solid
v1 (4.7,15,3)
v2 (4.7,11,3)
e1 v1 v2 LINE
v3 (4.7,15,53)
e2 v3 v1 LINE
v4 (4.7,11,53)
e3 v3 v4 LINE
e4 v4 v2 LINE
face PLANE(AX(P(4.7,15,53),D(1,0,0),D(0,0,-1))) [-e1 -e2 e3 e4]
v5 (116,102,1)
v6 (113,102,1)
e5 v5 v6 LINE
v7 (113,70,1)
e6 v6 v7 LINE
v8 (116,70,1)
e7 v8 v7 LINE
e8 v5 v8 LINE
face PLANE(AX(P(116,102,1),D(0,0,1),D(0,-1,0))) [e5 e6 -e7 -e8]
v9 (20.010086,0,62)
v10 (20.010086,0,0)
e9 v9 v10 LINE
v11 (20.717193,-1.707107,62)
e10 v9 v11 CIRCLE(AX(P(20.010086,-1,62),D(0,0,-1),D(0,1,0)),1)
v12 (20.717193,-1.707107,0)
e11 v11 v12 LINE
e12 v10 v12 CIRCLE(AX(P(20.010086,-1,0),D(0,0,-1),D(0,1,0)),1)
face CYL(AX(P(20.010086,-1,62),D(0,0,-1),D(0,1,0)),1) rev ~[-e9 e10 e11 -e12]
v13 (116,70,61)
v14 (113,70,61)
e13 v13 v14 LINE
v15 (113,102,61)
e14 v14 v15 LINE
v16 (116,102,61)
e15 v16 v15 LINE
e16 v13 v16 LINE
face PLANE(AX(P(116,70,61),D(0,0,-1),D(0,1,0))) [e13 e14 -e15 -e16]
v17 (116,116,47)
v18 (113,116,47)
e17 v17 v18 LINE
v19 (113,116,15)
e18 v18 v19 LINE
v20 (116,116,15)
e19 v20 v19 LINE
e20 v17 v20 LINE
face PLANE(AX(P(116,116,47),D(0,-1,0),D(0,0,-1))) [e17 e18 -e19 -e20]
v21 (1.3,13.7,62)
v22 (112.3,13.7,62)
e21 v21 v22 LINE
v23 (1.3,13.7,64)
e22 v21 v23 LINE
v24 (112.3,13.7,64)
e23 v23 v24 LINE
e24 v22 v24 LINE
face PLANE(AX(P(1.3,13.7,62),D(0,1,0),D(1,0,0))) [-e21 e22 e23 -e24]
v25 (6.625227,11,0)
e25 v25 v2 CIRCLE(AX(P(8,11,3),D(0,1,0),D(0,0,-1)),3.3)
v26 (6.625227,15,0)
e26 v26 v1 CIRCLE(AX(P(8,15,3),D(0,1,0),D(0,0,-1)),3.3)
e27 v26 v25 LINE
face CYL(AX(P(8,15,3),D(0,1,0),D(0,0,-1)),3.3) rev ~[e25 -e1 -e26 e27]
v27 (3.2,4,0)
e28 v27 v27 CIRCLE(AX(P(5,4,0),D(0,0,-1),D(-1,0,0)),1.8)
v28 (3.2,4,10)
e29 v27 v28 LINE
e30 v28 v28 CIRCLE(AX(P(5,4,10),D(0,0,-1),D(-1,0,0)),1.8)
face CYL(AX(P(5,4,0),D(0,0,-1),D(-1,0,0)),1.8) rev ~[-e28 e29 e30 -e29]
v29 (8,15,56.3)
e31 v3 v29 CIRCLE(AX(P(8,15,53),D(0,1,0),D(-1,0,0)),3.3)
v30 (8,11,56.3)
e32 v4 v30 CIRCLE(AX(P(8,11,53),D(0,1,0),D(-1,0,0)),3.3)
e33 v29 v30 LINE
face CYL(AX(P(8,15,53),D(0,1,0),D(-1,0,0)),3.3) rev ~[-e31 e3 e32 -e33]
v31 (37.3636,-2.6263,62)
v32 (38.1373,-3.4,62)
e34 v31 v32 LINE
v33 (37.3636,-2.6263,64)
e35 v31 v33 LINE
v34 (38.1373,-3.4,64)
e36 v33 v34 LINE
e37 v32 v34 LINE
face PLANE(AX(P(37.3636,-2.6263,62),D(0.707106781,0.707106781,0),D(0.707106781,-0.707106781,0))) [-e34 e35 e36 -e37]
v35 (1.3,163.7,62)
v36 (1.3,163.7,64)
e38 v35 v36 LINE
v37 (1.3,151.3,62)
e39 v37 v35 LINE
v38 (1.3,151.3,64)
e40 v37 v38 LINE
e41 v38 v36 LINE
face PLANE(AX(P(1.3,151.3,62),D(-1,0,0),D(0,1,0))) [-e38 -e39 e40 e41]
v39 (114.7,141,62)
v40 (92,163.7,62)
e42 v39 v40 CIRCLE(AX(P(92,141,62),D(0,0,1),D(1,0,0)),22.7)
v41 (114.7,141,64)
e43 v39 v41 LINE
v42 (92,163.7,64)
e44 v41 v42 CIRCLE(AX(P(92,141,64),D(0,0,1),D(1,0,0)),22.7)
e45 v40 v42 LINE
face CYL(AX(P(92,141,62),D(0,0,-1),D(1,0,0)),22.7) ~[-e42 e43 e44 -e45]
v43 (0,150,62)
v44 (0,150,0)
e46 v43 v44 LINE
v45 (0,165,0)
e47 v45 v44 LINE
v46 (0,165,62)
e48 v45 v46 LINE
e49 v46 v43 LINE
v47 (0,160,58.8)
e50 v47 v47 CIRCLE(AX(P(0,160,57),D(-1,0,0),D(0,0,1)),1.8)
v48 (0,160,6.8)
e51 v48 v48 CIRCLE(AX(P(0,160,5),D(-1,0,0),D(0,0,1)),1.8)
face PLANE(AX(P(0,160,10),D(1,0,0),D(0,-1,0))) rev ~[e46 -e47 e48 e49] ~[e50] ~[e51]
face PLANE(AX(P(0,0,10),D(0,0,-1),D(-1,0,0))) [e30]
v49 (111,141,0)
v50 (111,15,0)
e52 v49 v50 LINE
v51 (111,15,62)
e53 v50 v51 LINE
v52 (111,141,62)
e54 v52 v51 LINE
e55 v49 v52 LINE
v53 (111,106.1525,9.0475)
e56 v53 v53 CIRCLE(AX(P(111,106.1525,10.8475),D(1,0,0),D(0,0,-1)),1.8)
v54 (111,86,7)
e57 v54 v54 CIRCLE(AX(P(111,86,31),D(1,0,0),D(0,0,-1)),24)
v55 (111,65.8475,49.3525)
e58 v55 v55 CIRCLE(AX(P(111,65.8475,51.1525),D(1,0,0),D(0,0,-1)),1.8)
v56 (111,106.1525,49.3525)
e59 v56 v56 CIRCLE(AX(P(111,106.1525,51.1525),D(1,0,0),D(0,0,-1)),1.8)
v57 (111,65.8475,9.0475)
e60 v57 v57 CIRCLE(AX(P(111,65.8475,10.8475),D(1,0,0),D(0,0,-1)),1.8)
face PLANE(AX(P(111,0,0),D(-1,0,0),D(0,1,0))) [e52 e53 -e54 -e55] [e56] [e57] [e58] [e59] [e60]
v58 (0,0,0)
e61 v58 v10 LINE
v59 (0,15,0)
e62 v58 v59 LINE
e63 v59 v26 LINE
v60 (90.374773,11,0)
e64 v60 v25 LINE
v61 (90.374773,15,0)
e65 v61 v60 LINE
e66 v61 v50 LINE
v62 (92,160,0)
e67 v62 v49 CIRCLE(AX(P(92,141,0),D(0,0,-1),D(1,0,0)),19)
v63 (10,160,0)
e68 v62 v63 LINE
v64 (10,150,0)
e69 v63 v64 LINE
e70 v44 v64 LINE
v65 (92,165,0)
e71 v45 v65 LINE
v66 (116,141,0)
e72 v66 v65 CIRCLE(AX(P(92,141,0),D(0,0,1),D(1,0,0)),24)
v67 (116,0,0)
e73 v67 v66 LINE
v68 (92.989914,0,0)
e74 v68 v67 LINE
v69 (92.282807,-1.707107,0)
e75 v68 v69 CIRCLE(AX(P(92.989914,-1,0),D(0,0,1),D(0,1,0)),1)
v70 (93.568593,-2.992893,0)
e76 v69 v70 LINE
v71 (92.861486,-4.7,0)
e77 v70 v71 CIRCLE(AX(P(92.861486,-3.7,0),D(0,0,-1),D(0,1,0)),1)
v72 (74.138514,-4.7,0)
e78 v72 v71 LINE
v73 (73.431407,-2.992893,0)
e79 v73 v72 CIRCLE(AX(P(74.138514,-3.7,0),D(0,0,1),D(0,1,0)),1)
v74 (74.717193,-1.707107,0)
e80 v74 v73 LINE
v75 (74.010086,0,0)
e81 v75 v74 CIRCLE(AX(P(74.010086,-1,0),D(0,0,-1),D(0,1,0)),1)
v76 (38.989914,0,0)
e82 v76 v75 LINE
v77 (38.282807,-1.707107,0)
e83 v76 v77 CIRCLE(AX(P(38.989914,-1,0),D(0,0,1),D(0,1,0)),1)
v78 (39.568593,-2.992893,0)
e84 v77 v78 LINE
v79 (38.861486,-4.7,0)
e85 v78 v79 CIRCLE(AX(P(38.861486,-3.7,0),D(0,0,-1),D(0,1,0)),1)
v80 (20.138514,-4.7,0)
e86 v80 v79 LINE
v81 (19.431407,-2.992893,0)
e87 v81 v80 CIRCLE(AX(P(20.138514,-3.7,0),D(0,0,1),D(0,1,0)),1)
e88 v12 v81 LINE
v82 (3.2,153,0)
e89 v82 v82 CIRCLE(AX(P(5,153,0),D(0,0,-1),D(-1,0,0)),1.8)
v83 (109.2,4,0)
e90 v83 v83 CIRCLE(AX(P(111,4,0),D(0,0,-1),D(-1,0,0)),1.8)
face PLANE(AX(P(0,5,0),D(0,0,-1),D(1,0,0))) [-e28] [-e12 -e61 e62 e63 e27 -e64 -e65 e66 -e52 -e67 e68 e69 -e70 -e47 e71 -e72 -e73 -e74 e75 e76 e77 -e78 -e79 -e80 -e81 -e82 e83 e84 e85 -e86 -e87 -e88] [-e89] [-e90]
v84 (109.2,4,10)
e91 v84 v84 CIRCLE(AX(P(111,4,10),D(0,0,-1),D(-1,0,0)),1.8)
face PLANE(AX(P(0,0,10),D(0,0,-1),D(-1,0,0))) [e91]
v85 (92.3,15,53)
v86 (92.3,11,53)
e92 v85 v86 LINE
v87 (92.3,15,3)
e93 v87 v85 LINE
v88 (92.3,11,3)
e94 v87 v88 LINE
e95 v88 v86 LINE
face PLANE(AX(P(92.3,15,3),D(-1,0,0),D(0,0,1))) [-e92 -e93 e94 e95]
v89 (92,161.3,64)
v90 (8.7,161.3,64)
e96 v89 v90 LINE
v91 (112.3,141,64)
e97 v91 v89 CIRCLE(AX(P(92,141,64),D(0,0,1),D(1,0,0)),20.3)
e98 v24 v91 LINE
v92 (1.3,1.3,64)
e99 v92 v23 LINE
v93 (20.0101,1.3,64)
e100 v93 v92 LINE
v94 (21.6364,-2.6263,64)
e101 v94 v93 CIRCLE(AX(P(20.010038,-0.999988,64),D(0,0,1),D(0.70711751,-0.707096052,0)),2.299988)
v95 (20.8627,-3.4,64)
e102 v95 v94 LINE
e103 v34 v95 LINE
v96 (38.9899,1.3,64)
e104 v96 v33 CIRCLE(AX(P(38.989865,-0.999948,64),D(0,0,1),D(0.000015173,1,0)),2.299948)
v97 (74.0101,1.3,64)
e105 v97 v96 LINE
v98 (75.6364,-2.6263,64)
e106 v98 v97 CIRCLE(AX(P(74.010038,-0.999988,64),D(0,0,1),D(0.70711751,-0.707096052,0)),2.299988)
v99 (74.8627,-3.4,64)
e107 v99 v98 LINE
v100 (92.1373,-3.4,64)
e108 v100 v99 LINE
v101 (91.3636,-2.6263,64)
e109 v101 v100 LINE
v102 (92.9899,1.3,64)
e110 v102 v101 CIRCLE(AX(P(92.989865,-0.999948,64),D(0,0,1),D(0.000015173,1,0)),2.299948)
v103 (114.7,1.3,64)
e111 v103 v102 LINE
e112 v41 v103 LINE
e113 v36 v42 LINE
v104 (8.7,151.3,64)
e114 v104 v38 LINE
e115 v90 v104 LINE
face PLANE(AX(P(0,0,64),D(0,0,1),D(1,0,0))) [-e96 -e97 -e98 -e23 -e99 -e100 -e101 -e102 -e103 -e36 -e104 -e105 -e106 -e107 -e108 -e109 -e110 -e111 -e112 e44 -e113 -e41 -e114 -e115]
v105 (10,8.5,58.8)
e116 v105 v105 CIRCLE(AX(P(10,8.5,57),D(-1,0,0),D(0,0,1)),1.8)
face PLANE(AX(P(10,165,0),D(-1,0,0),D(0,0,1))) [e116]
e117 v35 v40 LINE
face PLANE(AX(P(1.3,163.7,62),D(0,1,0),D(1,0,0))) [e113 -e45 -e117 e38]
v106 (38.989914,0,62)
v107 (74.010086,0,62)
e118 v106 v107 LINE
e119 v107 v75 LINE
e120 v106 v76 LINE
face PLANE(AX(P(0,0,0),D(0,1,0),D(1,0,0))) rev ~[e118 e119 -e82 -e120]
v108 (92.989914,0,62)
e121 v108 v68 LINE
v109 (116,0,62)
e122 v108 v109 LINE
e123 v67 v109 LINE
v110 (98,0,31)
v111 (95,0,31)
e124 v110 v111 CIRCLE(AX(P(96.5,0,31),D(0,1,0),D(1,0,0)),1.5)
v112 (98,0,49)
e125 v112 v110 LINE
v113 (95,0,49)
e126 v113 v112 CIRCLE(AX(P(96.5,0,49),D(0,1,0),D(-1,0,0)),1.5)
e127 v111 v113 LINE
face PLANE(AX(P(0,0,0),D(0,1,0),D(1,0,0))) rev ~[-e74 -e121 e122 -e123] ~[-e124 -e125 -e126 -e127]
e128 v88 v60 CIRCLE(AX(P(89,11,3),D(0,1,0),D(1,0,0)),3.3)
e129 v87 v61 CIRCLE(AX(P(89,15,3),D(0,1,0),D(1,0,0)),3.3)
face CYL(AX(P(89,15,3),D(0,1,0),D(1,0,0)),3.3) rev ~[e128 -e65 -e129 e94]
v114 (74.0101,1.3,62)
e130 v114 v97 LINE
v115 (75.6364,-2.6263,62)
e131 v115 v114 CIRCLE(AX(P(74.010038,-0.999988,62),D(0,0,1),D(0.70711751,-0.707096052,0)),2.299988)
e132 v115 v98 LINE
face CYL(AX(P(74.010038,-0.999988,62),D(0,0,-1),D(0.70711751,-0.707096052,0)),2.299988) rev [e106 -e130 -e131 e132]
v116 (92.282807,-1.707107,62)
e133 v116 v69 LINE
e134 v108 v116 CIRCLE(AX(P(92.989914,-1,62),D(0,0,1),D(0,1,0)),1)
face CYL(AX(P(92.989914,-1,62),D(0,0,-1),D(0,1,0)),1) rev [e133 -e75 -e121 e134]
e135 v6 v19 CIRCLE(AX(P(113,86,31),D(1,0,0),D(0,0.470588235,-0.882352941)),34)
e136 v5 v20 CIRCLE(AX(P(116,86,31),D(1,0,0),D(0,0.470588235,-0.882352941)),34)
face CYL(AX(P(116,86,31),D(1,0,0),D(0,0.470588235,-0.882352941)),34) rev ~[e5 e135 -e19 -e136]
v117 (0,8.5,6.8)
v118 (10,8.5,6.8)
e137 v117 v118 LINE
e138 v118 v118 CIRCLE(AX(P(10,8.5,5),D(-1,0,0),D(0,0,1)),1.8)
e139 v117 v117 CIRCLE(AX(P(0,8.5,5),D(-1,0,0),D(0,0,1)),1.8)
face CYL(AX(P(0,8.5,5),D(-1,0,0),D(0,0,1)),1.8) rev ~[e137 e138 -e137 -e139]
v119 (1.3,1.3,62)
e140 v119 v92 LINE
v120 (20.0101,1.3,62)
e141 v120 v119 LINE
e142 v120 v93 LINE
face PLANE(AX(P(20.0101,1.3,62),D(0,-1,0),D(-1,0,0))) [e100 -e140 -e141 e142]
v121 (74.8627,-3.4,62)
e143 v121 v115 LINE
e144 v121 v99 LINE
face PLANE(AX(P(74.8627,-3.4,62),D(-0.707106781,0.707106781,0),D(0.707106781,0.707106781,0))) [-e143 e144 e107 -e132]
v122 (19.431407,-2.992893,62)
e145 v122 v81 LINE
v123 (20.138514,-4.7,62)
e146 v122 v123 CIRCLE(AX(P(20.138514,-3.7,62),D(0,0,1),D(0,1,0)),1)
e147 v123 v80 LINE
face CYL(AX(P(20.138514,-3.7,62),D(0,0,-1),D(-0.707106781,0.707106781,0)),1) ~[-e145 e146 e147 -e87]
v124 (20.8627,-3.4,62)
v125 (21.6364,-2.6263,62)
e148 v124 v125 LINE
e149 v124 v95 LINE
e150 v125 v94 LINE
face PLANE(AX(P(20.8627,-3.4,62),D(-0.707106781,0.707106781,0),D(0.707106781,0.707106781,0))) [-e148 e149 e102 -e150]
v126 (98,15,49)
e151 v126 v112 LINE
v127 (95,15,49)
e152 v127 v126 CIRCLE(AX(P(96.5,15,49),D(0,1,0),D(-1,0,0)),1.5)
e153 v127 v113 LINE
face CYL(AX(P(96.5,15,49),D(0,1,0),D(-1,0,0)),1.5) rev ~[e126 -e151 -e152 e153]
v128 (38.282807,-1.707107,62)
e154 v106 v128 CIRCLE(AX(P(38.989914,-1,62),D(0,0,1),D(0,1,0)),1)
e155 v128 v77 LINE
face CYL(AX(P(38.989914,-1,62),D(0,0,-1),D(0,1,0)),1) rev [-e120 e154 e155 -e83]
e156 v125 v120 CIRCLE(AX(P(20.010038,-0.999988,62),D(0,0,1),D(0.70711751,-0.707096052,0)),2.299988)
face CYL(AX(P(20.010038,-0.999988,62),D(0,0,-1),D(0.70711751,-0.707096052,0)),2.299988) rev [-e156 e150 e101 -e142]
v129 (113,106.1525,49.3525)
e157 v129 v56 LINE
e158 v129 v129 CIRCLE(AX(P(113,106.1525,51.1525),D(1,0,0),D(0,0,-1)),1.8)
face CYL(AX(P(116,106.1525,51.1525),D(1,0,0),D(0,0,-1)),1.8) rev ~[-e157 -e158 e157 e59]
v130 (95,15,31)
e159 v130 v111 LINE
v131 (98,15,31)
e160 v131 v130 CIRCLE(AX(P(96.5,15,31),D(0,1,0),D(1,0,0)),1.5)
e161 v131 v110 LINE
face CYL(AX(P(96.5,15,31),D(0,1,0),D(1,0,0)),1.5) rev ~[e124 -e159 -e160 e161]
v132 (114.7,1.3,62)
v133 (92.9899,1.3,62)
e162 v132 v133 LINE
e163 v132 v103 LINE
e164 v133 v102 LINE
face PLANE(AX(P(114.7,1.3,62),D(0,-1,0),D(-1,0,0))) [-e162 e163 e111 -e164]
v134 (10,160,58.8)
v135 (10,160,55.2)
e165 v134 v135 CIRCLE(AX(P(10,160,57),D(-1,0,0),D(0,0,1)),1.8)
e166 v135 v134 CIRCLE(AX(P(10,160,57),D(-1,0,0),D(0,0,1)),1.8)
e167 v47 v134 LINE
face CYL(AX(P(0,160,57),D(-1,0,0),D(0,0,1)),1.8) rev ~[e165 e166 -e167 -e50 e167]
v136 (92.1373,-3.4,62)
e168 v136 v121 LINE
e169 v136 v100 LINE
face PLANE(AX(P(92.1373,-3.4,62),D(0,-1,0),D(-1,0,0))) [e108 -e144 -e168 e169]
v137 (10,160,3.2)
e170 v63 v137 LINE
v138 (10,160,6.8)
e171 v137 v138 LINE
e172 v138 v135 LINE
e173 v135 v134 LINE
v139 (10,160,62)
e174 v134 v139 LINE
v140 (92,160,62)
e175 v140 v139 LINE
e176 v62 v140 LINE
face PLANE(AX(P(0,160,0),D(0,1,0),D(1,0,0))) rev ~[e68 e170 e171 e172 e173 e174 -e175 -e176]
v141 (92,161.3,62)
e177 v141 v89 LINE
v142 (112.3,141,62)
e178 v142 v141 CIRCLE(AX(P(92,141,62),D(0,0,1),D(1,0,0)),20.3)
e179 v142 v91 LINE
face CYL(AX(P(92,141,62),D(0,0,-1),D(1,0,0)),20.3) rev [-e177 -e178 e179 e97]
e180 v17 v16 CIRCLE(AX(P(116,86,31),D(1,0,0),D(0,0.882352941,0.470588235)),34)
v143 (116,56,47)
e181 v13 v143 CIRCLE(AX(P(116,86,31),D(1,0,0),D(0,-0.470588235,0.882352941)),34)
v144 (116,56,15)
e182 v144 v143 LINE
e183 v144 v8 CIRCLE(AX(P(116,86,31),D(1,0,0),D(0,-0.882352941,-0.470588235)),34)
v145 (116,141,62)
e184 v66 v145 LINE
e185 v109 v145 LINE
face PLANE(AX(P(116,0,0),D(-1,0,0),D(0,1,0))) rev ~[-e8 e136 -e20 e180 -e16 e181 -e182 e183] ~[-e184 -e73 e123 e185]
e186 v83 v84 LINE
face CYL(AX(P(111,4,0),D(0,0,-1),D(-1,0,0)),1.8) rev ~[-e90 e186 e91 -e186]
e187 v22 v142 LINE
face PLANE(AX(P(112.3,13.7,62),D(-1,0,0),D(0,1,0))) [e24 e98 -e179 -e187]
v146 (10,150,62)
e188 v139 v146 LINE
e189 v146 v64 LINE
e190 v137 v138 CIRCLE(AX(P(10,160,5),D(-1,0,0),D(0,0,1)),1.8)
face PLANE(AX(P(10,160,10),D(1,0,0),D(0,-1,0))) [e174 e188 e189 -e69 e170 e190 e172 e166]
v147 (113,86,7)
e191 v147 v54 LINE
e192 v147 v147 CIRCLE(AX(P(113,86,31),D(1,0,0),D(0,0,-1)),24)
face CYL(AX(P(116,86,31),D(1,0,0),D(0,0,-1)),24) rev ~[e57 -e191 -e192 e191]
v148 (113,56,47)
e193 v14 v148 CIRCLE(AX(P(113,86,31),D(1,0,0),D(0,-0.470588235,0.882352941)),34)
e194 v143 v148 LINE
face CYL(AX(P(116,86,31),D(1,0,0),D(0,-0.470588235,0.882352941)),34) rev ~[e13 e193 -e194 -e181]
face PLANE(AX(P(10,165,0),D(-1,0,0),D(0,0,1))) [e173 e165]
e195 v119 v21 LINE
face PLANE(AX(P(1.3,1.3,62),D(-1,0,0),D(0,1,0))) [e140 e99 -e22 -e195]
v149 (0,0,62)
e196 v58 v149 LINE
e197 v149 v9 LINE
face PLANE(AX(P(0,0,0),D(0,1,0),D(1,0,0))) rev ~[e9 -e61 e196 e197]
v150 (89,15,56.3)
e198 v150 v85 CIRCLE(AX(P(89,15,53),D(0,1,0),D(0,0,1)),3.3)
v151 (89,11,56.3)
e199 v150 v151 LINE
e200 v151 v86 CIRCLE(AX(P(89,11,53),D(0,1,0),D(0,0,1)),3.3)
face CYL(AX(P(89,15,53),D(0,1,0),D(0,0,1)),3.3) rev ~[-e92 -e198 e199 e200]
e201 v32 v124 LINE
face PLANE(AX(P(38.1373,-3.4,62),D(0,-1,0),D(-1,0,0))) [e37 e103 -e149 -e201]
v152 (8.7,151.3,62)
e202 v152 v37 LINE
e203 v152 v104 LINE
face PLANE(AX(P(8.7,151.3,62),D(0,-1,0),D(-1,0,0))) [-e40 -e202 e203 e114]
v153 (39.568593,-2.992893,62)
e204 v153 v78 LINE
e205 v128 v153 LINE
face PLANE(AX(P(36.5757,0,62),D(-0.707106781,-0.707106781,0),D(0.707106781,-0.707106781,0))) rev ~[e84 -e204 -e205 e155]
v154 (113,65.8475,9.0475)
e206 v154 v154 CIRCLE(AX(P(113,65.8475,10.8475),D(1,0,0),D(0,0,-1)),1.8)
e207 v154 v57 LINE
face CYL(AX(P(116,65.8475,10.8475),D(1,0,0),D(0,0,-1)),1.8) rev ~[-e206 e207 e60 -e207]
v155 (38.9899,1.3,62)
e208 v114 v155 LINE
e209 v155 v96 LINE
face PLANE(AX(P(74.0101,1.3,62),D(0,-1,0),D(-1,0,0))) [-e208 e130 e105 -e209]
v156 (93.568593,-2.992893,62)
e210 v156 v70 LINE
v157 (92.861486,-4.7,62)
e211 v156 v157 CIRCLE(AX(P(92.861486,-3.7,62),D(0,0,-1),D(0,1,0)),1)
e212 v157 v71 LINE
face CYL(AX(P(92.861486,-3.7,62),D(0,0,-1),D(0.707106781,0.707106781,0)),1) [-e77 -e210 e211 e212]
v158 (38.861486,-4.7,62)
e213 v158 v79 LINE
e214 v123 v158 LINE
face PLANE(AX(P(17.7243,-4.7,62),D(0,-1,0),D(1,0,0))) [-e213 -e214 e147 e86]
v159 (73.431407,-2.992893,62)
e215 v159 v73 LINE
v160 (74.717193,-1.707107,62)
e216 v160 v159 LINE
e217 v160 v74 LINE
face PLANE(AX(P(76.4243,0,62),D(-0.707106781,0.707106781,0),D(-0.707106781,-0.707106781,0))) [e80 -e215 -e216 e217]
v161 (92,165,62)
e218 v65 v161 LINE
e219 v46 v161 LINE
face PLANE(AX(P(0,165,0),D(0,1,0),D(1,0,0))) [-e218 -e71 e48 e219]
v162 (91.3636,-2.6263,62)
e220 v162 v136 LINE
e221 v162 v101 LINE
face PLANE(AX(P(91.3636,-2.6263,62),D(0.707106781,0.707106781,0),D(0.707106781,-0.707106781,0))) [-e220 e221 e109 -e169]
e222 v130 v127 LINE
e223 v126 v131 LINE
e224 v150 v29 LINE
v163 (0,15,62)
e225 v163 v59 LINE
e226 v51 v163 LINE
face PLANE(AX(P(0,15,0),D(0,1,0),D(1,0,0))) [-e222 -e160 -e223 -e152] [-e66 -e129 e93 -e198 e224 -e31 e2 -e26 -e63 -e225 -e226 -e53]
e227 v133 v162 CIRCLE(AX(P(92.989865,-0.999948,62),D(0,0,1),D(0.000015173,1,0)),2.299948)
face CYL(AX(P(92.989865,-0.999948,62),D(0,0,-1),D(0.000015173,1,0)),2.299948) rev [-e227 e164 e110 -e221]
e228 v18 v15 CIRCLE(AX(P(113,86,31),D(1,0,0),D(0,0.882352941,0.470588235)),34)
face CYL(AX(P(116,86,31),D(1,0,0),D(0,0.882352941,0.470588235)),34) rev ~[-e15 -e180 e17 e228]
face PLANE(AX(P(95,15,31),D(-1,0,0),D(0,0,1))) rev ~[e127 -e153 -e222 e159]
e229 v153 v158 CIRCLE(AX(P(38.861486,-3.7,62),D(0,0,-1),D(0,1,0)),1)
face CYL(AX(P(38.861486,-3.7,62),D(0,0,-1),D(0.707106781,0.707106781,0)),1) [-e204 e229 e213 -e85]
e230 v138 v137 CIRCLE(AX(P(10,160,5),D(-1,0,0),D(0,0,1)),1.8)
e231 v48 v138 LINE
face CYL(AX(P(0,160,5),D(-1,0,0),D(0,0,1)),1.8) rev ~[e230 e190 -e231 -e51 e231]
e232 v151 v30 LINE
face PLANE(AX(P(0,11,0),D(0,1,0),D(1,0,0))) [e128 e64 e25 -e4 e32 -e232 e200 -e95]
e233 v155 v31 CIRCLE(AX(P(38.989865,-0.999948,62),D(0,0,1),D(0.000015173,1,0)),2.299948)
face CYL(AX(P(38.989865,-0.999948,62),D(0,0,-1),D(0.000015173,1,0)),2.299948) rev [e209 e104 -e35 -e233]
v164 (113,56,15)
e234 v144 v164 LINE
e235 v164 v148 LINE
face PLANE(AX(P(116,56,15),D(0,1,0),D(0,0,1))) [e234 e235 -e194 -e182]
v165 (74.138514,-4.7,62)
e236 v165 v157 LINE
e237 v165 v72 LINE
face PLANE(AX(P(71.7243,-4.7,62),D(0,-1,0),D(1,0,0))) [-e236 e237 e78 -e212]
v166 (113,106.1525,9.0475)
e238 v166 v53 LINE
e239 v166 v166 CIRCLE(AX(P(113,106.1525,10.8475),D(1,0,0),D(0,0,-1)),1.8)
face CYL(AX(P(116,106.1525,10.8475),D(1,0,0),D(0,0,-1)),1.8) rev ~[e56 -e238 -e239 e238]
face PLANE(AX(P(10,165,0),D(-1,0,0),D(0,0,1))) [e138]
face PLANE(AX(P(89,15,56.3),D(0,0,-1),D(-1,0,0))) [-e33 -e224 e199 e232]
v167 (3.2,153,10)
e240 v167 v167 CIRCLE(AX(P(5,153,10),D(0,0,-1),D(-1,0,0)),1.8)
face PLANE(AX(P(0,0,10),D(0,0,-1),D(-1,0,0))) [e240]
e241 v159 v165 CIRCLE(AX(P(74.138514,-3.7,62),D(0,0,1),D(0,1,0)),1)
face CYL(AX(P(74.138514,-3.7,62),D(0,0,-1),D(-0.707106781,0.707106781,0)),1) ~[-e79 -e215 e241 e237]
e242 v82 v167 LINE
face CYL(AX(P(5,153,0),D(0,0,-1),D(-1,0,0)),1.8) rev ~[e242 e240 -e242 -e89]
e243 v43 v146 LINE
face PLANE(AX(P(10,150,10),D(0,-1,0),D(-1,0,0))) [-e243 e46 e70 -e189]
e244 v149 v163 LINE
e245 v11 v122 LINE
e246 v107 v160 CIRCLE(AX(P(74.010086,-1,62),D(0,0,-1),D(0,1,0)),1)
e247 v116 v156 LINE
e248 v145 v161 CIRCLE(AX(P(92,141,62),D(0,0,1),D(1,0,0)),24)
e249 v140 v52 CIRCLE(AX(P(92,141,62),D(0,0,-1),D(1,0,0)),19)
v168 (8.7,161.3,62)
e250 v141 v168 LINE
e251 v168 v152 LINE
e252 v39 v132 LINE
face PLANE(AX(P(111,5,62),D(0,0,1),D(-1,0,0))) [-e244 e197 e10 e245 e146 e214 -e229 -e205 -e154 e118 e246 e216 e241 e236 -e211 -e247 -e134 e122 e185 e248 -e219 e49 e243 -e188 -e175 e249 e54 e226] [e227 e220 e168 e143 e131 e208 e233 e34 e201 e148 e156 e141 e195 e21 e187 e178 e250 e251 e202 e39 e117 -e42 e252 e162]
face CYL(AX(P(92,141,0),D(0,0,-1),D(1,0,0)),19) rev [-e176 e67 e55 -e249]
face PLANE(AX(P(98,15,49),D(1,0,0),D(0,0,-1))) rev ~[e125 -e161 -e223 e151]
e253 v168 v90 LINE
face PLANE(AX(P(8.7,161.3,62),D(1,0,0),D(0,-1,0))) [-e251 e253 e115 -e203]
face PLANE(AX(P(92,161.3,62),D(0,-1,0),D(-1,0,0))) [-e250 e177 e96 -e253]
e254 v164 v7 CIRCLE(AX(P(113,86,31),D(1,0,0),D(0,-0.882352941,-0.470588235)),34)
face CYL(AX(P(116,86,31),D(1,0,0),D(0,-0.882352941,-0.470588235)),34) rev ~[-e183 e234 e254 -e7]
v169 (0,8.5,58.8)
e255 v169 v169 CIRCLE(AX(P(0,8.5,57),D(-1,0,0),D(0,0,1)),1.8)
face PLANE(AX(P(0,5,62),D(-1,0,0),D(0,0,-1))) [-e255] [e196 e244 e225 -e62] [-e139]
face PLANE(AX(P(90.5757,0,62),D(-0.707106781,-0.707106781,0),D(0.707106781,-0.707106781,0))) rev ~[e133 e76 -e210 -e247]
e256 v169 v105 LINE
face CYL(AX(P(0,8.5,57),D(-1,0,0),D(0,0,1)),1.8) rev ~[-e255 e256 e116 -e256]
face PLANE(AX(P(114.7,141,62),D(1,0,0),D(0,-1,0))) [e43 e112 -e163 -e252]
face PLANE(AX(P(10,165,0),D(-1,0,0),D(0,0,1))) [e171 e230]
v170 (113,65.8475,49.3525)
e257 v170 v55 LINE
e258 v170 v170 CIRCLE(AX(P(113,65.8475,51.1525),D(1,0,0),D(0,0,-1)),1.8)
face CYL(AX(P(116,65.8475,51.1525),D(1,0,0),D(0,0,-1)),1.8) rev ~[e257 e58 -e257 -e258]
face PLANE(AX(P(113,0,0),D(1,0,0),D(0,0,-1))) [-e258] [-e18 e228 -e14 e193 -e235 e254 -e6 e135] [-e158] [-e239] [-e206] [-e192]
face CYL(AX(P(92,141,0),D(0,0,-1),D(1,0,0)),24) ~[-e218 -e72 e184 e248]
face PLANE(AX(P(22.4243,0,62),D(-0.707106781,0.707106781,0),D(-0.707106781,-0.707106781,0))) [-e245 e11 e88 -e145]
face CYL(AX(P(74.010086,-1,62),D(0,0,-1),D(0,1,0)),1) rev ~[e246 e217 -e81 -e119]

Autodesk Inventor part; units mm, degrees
ref_plane "YZ Plane" through (0, 0, 0) normal (1, 0, 0) x (0, 1, 0)
ref_plane "XZ Plane" through (0, 0, 0) normal (0, 1, 0) x (-1, 0, 0)
ref_plane "XY Plane" through (0, 0, 0) normal (0, 0, 1) x (1, 0, 0)
sketch "Sketch1" plane through (0, 0, 0) normal (0, 0, 1) x (1, 0, 0)
  line L0 (0, 0) -> (116, 0)
  line L1 (116, 0) -> (116, 141)
  arc A0 (116, 141) -> (92, 165) centre (92, 141) ccw
  line L2 (0, 0) -> (0, 165)
  line L3 (0, 165) -> (92, 165)
  dimension "d0" = 24
  dimension "d1" = 92
  dimension "d2" = 165
extrude "Extrusion1" add sketch "Sketch1" along normal blind 62
shell "Shell2" thickness 5 removed faces 3 at (0, 110, 20.6667) at (38.6667, 102, 0) at (38.6667, 102, 62)
sketch "Sketch6" plane through (0, 160, 0) normal (0, -1, 0) x (1, 0, 0)
  line L0 (0, 0) -> (10, 0)
  line L1 (10, 0) -> (10, 10)
  line L2 (10, 10) -> (0, 10)
  line L3 (0, 10) -> (0, 0)
  dimension "d90" = 2
  dimension "d91" = 0
  dimension "d38" = 10
  dimension "d39" = 10
sketch "Sketch7" plane through (0, 160, 0) normal (0, -1, 0) x (1, 0, 0)
  line L0 (0, 62) -> (10, 62)
  line L1 (10, 62) -> (10, 52)
  line L2 (10, 52) -> (0, 52)
  line L3 (0, 52) -> (0, 62)
  line L4 (92, 0) -> (0, 0) projected
  line L5 (92, 0) -> (92, 62) projected
  line L6 (0, 62) -> (92, 62) projected
  line L7 (0, 0) -> (0, 62) projected
  point P0 (0, 0)
  dimension "d40" = 10
  dimension "d41" = 10
extrude "Extrusion6" add sketch "Sketch6" along normal blind 10
extrude "Extrusion7" add sketch "Sketch7" along normal blind 10 contours L0 L1 L2 L3
sketch "Sketch9" plane through (0, 5, 0) normal (0, 1, 0) x (1, 0, 0)
  line L0 (0, 0) -> (111, 0) projected
  line L1 (0, -62) -> (0, 0) projected
  line L2 (111, -62) -> (0, -62) projected
  line L3 (111, 0) -> (111, -62) projected
extrude "Extrusion8" add sketch "Sketch9" along normal blind 10
sketch "Sketch10" plane through (0, 15, 0) normal (0, 1, 0) x (1, 0, 0)
  arc A0 (5, -53) -> (8, -56) centre (8, -53) ccw
  arc A1 (8, 0) -> (5, -3) centre (8, -3) ccw
  line L0 (5, -53) -> (5, -3)
  arc A2 (92, -3) -> (89, 0) centre (89, -3) ccw
  arc A3 (89, -56) -> (92, -53) centre (89, -53) ccw
  line L1 (89, -56) -> (8, -56)
  line L2 (89, 0) -> (8, 0)
  line L3 (92, -53) -> (92, -3)
  line L4 (0, 0) -> (0, -62) projected
  line L5 (111, 0) -> (0, 0) projected
  arc A4 (4.7, -53) -> (8, -56.3) centre (8, -53) ccw
  line L6 (4.7, -53) -> (4.7, -3)
  arc A5 (8, 0.3) -> (4.7, -3) centre (8, -3) ccw
  line L7 (8, 0.3) -> (89, 0.3)
  arc A6 (92.3, -3) -> (89, 0.3) centre (89, -3) ccw
  line L8 (92.3, -3) -> (92.3, -53)
  arc A7 (89, -56.3) -> (92.3, -53) centre (89, -53) ccw
  line L9 (89, -56.3) -> (8, -56.3)
  point P0 (6.6252, 0)
  point P1 (90.3748, 0)
  point P2 (89, 0)
  dimension "d48" = 81
  dimension "d49" = 3
  dimension "d50" = 50
  dimension "d51" = 3
  dimension "d52" = 81
  dimension "d53" = 3
  dimension "d54" = 50
  dimension "d55" = 3
  dimension "d56" = 5
  dimension "d57" = 0.3
extrude "Extrusion9" cut sketch "Sketch10" against normal blind 4 contours L0 A1 L2 A2 L3 A3 L1 A0 | A0 L1 A3 L3 A2 L5 A6 L8 A7 L9 A4 L6 A5 A1 L0
sketch "Sketch12" plane through (0, 160, 10) normal (0, 0, 1) x (1, 0, 0)
  line L0 (0, 0) -> (10, 0) projected
  line L1 (0, 0) -> (0, -10) projected
  line L2 (10, -10) -> (0, -10) projected
  line L3 (10, 0) -> (10, -10) projected
  point P0 (0, -160)
extrude "Extrusion11" add sketch "Sketch12" along normal up to surface (42 mm away)
sketch "Sketch14" plane through (0, 0, 62) normal (0, 0, 1) x (1, 0, 0)
  line L0 (36.5757, 0) -> (41.5757, -5)
  line L1 (22, 0) -> (37, 0)
  line L2 (17.3, -4.7) -> (41.7, -4.7)
  line L3 (22.4243, 0) -> (17.4243, -5)
  line L4 (22, 0) -> (17, -5)
  line L5 (-3, 0) -> (-3, -5)
  line L6 (96, -5) -> (91, 0)
  line L7 (42, -5) -> (37, 0)
  line L8 (71, -5) -> (76, 0)
  line L9 (76.4243, 0) -> (71.4243, -5)
  line L10 (76, 0) -> (91, 0)
  line L11 (71.3, -4.7) -> (95.7, -4.7)
  line L12 (116, 0) -> (-3, 0)
  line L13 (-3, 0) -> (116, 0)
  line L14 (-3, -5) -> (116, -5)
  line L15 (90.5757, 0) -> (95.5757, -5)
  line L16 (116, 0) -> (116, -5)
  line L17 (10, 160) -> (92, 160) projected
  arc A0 (111, 141) -> (92, 160) centre (92, 141) ccw projected
  line L18 (111, 141) -> (111, 15) projected
  line L19 (0, 15) -> (111, 15) projected
  line L20 (0, 15) -> (0, 0) projected
  line L21 (0, 0) -> (116, 0) projected
  line L22 (116, 0) -> (116, 141) projected
  arc A1 (116, 141) -> (92, 165) centre (92, 141) ccw projected
  line L23 (92, 165) -> (0, 165) projected
  line L24 (0, 165) -> (0, 150) projected
  line L25 (10, 150) -> (0, 150) projected
  line L26 (10, 160) -> (10, 150) projected
  point P0 (95.2757, -4.7)
  point P1 (71.7243, -4.7)
  point P2 (17.7243, -4.7)
  point P3 (41.2757, -4.7)
  dimension "d70" = 5
  dimension "d71" = 45
  dimension "d72" = 45
  dimension "d73" = 45
  dimension "d74" = 20
  dimension "d75" = 25
  dimension "d76" = 25
  dimension "d77" = 20
  dimension "d78" = 119
  dimension "d79" = 0.3
  dimension "d80" = 0.3
  dimension "d81" = 0.3
  dimension "d82" = 0.3
  dimension "d83" = 0.3
  dimension "d84" = 0.3
extrude "Extrusion12" add sketch "Sketch14" against normal up to surface (62 mm away) contours L0 L2 L3 L1 | L10 L15 L11 L9
fillet "Fillet4" radius 1 8 edges at (22.4243, 0, 31) (17.7243, -4.7, 31) (41.2757, -4.7, 31) (76.4243, 0, 31) (71.7243, -4.7, 31) (95.2757, -4.7, 31) (36.5757, 0, 31) (90.5757, 0, 31)
sketch "Sketch15" plane through (0, 0, 62) normal (0, 0, 1) x (1, 0, 0)
  arc A0 (92.8615, -4.7) -> (93.5686, -2.9929) centre (92.8615, -3.7) ccw projected
  line L0 (93.5686, -2.9929) -> (92.2828, -1.7071) projected
  arc A1 (92.9899, 0) -> (92.2828, -1.7071) centre (92.9899, -1) ccw projected
  line L1 (92.9899, 0) -> (116, 0) projected
  line L2 (116, 0) -> (116, 141) projected
  arc A2 (116, 141) -> (92, 165) centre (92, 141) ccw projected
  line L3 (92, 165) -> (0, 165) projected
  line L4 (0, 165) -> (0, 150) projected
  line L5 (10, 150) -> (0, 150) projected
  line L6 (10, 160) -> (10, 150) projected
  line L7 (10, 160) -> (92, 160) projected
  arc A3 (111, 141) -> (92, 160) centre (92, 141) ccw projected
  line L8 (111, 141) -> (111, 15) projected
  line L9 (0, 15) -> (111, 15) projected
  line L10 (0, 15) -> (0, 0) projected
  line L11 (0, 0) -> (20.0101, 0) projected
  arc A4 (20.7172, -1.7071) -> (20.0101, 0) centre (20.0101, -1) ccw projected
  line L12 (20.7172, -1.7071) -> (19.4314, -2.9929) projected
  arc A5 (19.4314, -2.9929) -> (20.1385, -4.7) centre (20.1385, -3.7) ccw projected
  line L13 (20.1385, -4.7) -> (38.8615, -4.7) projected
  arc A6 (38.8615, -4.7) -> (39.5686, -2.9929) centre (38.8615, -3.7) ccw projected
  line L14 (39.5686, -2.9929) -> (38.2828, -1.7071) projected
  arc A7 (38.9899, 0) -> (38.2828, -1.7071) centre (38.9899, -1) ccw projected
  line L15 (38.9899, 0) -> (74.0101, 0) projected
  arc A8 (74.7172, -1.7071) -> (74.0101, 0) centre (74.0101, -1) ccw projected
  line L16 (74.7172, -1.7071) -> (73.4314, -2.9929) projected
  arc A9 (73.4314, -2.9929) -> (74.1385, -4.7) centre (74.1385, -3.7) ccw projected
  line L17 (74.1385, -4.7) -> (92.8615, -4.7) projected
  line L18 (112.3, 13.7) -> (112.3, 141)
  arc A10 (112.3, 141) -> (92, 161.3) centre (92, 141) ccw
  line L19 (92, 161.3) -> (8.7, 161.3)
  line L20 (8.7, 161.3) -> (8.7, 151.3)
  line L21 (8.7, 151.3) -> (1.3, 151.3)
  line L22 (1.3, 151.3) -> (1.3, 163.7)
  line L23 (1.3, 163.7) -> (92, 163.7)
  arc A11 (114.7, 141) -> (92, 163.7) centre (92, 141) ccw
  line L24 (114.7, 141) -> (114.7, 1.3)
  line L25 (114.7, 1.3) -> (92.9899, 1.3)
  arc A12 (92.9899, 1.3) -> (91.3636, -2.6263) centre (92.9899, -1) ccw
  line L26 (91.3636, -2.6263) -> (92.1373, -3.4)
  line L27 (92.1373, -3.4) -> (74.8627, -3.4)
  line L28 (74.8627, -3.4) -> (75.6364, -2.6263)
  arc A13 (75.6364, -2.6263) -> (74.0101, 1.3) centre (74.0101, -1) ccw
  line L29 (74.0101, 1.3) -> (38.9899, 1.3)
  arc A14 (38.9899, 1.3) -> (37.3636, -2.6263) centre (38.9899, -1) ccw
  line L30 (37.3636, -2.6263) -> (38.1373, -3.4)
  line L31 (38.1373, -3.4) -> (20.8627, -3.4)
  line L32 (20.8627, -3.4) -> (21.6364, -2.6263)
  arc A15 (21.6364, -2.6263) -> (20.0101, 1.3) centre (20.0101, -1) ccw
  line L33 (20.0101, 1.3) -> (1.3, 1.3)
  line L34 (1.3, 1.3) -> (1.3, 13.7)
  line L35 (1.3, 13.7) -> (112.3, 13.7)
  dimension "d89" = 1.3
extrude "Extrusion13" add sketch "Sketch15" along normal blind 2 contours L18 A10 L19 L20 L21 L22 L23 A11 L24 L25 A12 L26 L27 L28 A13 L29 A14 L30 L31 L32 A15 L33 L34 L35
sketch "Sketch16" plane through (0, 15, 0) normal (0, 1, 0) x (1, 0, 0)
  line L0 (96.5, -31) -> (96.5, -49) construction
  line L1 (95, -31) -> (95, -49)
  line L2 (98, -49) -> (98, -31)
  arc A0 (98, -31) -> (95, -31) centre (96.5, -31) ccw
  arc A1 (95, -49) -> (98, -49) centre (96.5, -49) ccw
  line L3 (92.3, -3) -> (92.3, -53) projected
  line L4 (0, -62) -> (111, -62) projected
  line L5 (116, 0) -> (116, -62) projected
  line L6 (116, 0) -> (116, -62) projected
  point P0 (0, 0)
  point P1 (96.5, -40)
  point P2 (116, -31)
  dimension "d92" = 18
  dimension "d93" = 3
  dimension "d95" = 13
  dimension "d98" = 18
extrude "Extrusion14" cut sketch "Sketch16" against normal through all
sketch "Sketch17" plane through (116, 0, 0) normal (1, 0, 0) x (0, 0, -1)
  circle A0 centre (-51.1525, 65.8475) radius 1.8
  arc A1 (-61, 70) -> (-47, 56) centre (-31, 86) ccw
  line L0 (4, 51) -> (-66, 51)
  line L1 (-61, 56) -> (-1, 56) construction
  line L2 (-15, 56) -> (-47, 56)
  circle A2 centre (-10.8475, 65.8475) radius 1.8
  arc A3 (-15, 56) -> (-1, 70) centre (-31, 86) ccw
  line L3 (-1, 102) -> (-1, 70)
  circle A4 centre (-10.8475, 106.1525) radius 4 construction
  circle A5 centre (-10.8475, 106.1525) radius 1.8
  arc A6 (-1, 102) -> (-15, 116) centre (-31, 86) ccw
  line L4 (-61, 70) -> (-61, 102)
  line L5 (-61, 116) -> (-61, 56) construction
  arc A7 (-47, 116) -> (-61, 102) centre (-31, 86) ccw
  line L6 (-66, 51) -> (-66, 121)
  line L7 (-47, 116) -> (-15, 116)
  circle A8 centre (-31, 86) radius 23.5 construction
  circle A9 centre (-31, 86) radius 24
  line L8 (-1, 116) -> (-61, 56) construction
  line L9 (-61, 116) -> (-1, 56) construction
  line L10 (-1, 56) -> (-1, 116) construction
  line L11 (4, 121) -> (4, 51)
  circle A10 centre (-31, 86) radius 34 construction
  line L12 (4, 121) -> (-66, 51) construction
  line L13 (-66, 121) -> (4, 51) construction
  line L14 (-1, 116) -> (-61, 116) construction
  line L15 (-66, 121) -> (4, 121)
  circle A11 centre (-51.1525, 106.1525) radius 1.8
  line L16 (0, 0) -> (0, 141) projected
  line L17 (0, 141) -> (-62, 141) projected
  point P0 (-1, 102)
  point P1 (-47, 56)
  point P2 (-1, 70)
  point P3 (-15, 116)
  dimension "d101" = 60
  dimension "d102" = 60
  dimension "d103" = 68
  dimension "d104" = 47
  dimension "d105" = 8
  dimension "d106" = 28.5
  dimension "d107" = 3.6
  dimension "d108" = 48
  dimension "d109" = 360
  dimension "d110" = 70
  dimension "d111" = 70
  dimension "d114" = 20
  dimension "d119" = 1
extrude "Extrusion15" cut sketch "Sketch17" against normal blind 3 contours L4 A7 L7 A6 L3 A3 L2 A1
extrude "Extrusion16" cut sketch "Sketch17" against normal through all contours A0 | A2 | A5 | A9 | A11
sketch "Sketch18" plane through (0, 0, 0) normal (0, 0, -1) x (-1, 0, 0)
  circle A0 centre (-5, 153) radius 1.8
  line L0 (0, 150) -> (-10, 150) projected
  line L1 (-10, 160) -> (-10, 150) projected
  circle A1 centre (-111, 4) radius 1.8
  circle A2 centre (-5, 4) radius 1.8
  line L2 (-6.6252, 15) -> (0, 15) projected
  line L3 (0, 0) -> (-20.0101, 0) projected
  line L4 (-92.9899, 0) -> (-116, 0) projected
  line L5 (-116, 0) -> (-116, 141) projected
  line L6 (0, 15) -> (0, 0) projected
  dimension "d120" = 3.6
  dimension "d121" = 3
  dimension "d122" = 5
  dimension "d123" = 10
  dimension "d124" = 3.6
  dimension "d125" = 3.6
  dimension "d126" = 15
  dimension "d127" = 4
  dimension "d128" = 4
  dimension "d129" = 5
  dimension "d130" = 5
extrude "Extrusion17" cut sketch "Sketch18" against normal blind 10
sketch "Sketch19" plane through (0, 165, 0) normal (-1, 0, 0) x (0, 0, 1)
  line L0 (10, -13.8) -> (10, -10.2) projected
  line L1 (0, -13.8) -> (0, -10.2) projected
  circle A0 centre (5, -5) radius 1.8
  circle A1 centre (57, -5) radius 1.8
  circle A2 centre (5, -156.5) radius 1.8
  circle A3 centre (57, -156.5) radius 1.8
  line L2 (0, -5) -> (62.0541, -5) construction
  line L3 (0, 0) -> (62, 0) construction
  line L4 (62, 0) -> (62, -15) construction
  line L5 (0, 0) -> (0, -15) construction
  line L6 (62, -150) -> (62, -165) construction
  line L7 (0, -150) -> (62, -150) construction
  line L8 (0, -150) -> (0, -165) construction
  dimension "d133" = 3.6
  dimension "d134" = 3.6
  dimension "d135" = 3.6
  dimension "d136" = 3.6
  dimension "d137" = 5
  dimension "d138" = 5
  dimension "d139" = 5
  dimension "d140" = 5
  dimension "d141" = 5
  dimension "d142" = 6.5
  dimension "d143" = 5
  dimension "d144" = 6.5
extrude "Extrusion18" cut sketch "Sketch19" against normal blind 10
properties part number "ElecTweetBox"
